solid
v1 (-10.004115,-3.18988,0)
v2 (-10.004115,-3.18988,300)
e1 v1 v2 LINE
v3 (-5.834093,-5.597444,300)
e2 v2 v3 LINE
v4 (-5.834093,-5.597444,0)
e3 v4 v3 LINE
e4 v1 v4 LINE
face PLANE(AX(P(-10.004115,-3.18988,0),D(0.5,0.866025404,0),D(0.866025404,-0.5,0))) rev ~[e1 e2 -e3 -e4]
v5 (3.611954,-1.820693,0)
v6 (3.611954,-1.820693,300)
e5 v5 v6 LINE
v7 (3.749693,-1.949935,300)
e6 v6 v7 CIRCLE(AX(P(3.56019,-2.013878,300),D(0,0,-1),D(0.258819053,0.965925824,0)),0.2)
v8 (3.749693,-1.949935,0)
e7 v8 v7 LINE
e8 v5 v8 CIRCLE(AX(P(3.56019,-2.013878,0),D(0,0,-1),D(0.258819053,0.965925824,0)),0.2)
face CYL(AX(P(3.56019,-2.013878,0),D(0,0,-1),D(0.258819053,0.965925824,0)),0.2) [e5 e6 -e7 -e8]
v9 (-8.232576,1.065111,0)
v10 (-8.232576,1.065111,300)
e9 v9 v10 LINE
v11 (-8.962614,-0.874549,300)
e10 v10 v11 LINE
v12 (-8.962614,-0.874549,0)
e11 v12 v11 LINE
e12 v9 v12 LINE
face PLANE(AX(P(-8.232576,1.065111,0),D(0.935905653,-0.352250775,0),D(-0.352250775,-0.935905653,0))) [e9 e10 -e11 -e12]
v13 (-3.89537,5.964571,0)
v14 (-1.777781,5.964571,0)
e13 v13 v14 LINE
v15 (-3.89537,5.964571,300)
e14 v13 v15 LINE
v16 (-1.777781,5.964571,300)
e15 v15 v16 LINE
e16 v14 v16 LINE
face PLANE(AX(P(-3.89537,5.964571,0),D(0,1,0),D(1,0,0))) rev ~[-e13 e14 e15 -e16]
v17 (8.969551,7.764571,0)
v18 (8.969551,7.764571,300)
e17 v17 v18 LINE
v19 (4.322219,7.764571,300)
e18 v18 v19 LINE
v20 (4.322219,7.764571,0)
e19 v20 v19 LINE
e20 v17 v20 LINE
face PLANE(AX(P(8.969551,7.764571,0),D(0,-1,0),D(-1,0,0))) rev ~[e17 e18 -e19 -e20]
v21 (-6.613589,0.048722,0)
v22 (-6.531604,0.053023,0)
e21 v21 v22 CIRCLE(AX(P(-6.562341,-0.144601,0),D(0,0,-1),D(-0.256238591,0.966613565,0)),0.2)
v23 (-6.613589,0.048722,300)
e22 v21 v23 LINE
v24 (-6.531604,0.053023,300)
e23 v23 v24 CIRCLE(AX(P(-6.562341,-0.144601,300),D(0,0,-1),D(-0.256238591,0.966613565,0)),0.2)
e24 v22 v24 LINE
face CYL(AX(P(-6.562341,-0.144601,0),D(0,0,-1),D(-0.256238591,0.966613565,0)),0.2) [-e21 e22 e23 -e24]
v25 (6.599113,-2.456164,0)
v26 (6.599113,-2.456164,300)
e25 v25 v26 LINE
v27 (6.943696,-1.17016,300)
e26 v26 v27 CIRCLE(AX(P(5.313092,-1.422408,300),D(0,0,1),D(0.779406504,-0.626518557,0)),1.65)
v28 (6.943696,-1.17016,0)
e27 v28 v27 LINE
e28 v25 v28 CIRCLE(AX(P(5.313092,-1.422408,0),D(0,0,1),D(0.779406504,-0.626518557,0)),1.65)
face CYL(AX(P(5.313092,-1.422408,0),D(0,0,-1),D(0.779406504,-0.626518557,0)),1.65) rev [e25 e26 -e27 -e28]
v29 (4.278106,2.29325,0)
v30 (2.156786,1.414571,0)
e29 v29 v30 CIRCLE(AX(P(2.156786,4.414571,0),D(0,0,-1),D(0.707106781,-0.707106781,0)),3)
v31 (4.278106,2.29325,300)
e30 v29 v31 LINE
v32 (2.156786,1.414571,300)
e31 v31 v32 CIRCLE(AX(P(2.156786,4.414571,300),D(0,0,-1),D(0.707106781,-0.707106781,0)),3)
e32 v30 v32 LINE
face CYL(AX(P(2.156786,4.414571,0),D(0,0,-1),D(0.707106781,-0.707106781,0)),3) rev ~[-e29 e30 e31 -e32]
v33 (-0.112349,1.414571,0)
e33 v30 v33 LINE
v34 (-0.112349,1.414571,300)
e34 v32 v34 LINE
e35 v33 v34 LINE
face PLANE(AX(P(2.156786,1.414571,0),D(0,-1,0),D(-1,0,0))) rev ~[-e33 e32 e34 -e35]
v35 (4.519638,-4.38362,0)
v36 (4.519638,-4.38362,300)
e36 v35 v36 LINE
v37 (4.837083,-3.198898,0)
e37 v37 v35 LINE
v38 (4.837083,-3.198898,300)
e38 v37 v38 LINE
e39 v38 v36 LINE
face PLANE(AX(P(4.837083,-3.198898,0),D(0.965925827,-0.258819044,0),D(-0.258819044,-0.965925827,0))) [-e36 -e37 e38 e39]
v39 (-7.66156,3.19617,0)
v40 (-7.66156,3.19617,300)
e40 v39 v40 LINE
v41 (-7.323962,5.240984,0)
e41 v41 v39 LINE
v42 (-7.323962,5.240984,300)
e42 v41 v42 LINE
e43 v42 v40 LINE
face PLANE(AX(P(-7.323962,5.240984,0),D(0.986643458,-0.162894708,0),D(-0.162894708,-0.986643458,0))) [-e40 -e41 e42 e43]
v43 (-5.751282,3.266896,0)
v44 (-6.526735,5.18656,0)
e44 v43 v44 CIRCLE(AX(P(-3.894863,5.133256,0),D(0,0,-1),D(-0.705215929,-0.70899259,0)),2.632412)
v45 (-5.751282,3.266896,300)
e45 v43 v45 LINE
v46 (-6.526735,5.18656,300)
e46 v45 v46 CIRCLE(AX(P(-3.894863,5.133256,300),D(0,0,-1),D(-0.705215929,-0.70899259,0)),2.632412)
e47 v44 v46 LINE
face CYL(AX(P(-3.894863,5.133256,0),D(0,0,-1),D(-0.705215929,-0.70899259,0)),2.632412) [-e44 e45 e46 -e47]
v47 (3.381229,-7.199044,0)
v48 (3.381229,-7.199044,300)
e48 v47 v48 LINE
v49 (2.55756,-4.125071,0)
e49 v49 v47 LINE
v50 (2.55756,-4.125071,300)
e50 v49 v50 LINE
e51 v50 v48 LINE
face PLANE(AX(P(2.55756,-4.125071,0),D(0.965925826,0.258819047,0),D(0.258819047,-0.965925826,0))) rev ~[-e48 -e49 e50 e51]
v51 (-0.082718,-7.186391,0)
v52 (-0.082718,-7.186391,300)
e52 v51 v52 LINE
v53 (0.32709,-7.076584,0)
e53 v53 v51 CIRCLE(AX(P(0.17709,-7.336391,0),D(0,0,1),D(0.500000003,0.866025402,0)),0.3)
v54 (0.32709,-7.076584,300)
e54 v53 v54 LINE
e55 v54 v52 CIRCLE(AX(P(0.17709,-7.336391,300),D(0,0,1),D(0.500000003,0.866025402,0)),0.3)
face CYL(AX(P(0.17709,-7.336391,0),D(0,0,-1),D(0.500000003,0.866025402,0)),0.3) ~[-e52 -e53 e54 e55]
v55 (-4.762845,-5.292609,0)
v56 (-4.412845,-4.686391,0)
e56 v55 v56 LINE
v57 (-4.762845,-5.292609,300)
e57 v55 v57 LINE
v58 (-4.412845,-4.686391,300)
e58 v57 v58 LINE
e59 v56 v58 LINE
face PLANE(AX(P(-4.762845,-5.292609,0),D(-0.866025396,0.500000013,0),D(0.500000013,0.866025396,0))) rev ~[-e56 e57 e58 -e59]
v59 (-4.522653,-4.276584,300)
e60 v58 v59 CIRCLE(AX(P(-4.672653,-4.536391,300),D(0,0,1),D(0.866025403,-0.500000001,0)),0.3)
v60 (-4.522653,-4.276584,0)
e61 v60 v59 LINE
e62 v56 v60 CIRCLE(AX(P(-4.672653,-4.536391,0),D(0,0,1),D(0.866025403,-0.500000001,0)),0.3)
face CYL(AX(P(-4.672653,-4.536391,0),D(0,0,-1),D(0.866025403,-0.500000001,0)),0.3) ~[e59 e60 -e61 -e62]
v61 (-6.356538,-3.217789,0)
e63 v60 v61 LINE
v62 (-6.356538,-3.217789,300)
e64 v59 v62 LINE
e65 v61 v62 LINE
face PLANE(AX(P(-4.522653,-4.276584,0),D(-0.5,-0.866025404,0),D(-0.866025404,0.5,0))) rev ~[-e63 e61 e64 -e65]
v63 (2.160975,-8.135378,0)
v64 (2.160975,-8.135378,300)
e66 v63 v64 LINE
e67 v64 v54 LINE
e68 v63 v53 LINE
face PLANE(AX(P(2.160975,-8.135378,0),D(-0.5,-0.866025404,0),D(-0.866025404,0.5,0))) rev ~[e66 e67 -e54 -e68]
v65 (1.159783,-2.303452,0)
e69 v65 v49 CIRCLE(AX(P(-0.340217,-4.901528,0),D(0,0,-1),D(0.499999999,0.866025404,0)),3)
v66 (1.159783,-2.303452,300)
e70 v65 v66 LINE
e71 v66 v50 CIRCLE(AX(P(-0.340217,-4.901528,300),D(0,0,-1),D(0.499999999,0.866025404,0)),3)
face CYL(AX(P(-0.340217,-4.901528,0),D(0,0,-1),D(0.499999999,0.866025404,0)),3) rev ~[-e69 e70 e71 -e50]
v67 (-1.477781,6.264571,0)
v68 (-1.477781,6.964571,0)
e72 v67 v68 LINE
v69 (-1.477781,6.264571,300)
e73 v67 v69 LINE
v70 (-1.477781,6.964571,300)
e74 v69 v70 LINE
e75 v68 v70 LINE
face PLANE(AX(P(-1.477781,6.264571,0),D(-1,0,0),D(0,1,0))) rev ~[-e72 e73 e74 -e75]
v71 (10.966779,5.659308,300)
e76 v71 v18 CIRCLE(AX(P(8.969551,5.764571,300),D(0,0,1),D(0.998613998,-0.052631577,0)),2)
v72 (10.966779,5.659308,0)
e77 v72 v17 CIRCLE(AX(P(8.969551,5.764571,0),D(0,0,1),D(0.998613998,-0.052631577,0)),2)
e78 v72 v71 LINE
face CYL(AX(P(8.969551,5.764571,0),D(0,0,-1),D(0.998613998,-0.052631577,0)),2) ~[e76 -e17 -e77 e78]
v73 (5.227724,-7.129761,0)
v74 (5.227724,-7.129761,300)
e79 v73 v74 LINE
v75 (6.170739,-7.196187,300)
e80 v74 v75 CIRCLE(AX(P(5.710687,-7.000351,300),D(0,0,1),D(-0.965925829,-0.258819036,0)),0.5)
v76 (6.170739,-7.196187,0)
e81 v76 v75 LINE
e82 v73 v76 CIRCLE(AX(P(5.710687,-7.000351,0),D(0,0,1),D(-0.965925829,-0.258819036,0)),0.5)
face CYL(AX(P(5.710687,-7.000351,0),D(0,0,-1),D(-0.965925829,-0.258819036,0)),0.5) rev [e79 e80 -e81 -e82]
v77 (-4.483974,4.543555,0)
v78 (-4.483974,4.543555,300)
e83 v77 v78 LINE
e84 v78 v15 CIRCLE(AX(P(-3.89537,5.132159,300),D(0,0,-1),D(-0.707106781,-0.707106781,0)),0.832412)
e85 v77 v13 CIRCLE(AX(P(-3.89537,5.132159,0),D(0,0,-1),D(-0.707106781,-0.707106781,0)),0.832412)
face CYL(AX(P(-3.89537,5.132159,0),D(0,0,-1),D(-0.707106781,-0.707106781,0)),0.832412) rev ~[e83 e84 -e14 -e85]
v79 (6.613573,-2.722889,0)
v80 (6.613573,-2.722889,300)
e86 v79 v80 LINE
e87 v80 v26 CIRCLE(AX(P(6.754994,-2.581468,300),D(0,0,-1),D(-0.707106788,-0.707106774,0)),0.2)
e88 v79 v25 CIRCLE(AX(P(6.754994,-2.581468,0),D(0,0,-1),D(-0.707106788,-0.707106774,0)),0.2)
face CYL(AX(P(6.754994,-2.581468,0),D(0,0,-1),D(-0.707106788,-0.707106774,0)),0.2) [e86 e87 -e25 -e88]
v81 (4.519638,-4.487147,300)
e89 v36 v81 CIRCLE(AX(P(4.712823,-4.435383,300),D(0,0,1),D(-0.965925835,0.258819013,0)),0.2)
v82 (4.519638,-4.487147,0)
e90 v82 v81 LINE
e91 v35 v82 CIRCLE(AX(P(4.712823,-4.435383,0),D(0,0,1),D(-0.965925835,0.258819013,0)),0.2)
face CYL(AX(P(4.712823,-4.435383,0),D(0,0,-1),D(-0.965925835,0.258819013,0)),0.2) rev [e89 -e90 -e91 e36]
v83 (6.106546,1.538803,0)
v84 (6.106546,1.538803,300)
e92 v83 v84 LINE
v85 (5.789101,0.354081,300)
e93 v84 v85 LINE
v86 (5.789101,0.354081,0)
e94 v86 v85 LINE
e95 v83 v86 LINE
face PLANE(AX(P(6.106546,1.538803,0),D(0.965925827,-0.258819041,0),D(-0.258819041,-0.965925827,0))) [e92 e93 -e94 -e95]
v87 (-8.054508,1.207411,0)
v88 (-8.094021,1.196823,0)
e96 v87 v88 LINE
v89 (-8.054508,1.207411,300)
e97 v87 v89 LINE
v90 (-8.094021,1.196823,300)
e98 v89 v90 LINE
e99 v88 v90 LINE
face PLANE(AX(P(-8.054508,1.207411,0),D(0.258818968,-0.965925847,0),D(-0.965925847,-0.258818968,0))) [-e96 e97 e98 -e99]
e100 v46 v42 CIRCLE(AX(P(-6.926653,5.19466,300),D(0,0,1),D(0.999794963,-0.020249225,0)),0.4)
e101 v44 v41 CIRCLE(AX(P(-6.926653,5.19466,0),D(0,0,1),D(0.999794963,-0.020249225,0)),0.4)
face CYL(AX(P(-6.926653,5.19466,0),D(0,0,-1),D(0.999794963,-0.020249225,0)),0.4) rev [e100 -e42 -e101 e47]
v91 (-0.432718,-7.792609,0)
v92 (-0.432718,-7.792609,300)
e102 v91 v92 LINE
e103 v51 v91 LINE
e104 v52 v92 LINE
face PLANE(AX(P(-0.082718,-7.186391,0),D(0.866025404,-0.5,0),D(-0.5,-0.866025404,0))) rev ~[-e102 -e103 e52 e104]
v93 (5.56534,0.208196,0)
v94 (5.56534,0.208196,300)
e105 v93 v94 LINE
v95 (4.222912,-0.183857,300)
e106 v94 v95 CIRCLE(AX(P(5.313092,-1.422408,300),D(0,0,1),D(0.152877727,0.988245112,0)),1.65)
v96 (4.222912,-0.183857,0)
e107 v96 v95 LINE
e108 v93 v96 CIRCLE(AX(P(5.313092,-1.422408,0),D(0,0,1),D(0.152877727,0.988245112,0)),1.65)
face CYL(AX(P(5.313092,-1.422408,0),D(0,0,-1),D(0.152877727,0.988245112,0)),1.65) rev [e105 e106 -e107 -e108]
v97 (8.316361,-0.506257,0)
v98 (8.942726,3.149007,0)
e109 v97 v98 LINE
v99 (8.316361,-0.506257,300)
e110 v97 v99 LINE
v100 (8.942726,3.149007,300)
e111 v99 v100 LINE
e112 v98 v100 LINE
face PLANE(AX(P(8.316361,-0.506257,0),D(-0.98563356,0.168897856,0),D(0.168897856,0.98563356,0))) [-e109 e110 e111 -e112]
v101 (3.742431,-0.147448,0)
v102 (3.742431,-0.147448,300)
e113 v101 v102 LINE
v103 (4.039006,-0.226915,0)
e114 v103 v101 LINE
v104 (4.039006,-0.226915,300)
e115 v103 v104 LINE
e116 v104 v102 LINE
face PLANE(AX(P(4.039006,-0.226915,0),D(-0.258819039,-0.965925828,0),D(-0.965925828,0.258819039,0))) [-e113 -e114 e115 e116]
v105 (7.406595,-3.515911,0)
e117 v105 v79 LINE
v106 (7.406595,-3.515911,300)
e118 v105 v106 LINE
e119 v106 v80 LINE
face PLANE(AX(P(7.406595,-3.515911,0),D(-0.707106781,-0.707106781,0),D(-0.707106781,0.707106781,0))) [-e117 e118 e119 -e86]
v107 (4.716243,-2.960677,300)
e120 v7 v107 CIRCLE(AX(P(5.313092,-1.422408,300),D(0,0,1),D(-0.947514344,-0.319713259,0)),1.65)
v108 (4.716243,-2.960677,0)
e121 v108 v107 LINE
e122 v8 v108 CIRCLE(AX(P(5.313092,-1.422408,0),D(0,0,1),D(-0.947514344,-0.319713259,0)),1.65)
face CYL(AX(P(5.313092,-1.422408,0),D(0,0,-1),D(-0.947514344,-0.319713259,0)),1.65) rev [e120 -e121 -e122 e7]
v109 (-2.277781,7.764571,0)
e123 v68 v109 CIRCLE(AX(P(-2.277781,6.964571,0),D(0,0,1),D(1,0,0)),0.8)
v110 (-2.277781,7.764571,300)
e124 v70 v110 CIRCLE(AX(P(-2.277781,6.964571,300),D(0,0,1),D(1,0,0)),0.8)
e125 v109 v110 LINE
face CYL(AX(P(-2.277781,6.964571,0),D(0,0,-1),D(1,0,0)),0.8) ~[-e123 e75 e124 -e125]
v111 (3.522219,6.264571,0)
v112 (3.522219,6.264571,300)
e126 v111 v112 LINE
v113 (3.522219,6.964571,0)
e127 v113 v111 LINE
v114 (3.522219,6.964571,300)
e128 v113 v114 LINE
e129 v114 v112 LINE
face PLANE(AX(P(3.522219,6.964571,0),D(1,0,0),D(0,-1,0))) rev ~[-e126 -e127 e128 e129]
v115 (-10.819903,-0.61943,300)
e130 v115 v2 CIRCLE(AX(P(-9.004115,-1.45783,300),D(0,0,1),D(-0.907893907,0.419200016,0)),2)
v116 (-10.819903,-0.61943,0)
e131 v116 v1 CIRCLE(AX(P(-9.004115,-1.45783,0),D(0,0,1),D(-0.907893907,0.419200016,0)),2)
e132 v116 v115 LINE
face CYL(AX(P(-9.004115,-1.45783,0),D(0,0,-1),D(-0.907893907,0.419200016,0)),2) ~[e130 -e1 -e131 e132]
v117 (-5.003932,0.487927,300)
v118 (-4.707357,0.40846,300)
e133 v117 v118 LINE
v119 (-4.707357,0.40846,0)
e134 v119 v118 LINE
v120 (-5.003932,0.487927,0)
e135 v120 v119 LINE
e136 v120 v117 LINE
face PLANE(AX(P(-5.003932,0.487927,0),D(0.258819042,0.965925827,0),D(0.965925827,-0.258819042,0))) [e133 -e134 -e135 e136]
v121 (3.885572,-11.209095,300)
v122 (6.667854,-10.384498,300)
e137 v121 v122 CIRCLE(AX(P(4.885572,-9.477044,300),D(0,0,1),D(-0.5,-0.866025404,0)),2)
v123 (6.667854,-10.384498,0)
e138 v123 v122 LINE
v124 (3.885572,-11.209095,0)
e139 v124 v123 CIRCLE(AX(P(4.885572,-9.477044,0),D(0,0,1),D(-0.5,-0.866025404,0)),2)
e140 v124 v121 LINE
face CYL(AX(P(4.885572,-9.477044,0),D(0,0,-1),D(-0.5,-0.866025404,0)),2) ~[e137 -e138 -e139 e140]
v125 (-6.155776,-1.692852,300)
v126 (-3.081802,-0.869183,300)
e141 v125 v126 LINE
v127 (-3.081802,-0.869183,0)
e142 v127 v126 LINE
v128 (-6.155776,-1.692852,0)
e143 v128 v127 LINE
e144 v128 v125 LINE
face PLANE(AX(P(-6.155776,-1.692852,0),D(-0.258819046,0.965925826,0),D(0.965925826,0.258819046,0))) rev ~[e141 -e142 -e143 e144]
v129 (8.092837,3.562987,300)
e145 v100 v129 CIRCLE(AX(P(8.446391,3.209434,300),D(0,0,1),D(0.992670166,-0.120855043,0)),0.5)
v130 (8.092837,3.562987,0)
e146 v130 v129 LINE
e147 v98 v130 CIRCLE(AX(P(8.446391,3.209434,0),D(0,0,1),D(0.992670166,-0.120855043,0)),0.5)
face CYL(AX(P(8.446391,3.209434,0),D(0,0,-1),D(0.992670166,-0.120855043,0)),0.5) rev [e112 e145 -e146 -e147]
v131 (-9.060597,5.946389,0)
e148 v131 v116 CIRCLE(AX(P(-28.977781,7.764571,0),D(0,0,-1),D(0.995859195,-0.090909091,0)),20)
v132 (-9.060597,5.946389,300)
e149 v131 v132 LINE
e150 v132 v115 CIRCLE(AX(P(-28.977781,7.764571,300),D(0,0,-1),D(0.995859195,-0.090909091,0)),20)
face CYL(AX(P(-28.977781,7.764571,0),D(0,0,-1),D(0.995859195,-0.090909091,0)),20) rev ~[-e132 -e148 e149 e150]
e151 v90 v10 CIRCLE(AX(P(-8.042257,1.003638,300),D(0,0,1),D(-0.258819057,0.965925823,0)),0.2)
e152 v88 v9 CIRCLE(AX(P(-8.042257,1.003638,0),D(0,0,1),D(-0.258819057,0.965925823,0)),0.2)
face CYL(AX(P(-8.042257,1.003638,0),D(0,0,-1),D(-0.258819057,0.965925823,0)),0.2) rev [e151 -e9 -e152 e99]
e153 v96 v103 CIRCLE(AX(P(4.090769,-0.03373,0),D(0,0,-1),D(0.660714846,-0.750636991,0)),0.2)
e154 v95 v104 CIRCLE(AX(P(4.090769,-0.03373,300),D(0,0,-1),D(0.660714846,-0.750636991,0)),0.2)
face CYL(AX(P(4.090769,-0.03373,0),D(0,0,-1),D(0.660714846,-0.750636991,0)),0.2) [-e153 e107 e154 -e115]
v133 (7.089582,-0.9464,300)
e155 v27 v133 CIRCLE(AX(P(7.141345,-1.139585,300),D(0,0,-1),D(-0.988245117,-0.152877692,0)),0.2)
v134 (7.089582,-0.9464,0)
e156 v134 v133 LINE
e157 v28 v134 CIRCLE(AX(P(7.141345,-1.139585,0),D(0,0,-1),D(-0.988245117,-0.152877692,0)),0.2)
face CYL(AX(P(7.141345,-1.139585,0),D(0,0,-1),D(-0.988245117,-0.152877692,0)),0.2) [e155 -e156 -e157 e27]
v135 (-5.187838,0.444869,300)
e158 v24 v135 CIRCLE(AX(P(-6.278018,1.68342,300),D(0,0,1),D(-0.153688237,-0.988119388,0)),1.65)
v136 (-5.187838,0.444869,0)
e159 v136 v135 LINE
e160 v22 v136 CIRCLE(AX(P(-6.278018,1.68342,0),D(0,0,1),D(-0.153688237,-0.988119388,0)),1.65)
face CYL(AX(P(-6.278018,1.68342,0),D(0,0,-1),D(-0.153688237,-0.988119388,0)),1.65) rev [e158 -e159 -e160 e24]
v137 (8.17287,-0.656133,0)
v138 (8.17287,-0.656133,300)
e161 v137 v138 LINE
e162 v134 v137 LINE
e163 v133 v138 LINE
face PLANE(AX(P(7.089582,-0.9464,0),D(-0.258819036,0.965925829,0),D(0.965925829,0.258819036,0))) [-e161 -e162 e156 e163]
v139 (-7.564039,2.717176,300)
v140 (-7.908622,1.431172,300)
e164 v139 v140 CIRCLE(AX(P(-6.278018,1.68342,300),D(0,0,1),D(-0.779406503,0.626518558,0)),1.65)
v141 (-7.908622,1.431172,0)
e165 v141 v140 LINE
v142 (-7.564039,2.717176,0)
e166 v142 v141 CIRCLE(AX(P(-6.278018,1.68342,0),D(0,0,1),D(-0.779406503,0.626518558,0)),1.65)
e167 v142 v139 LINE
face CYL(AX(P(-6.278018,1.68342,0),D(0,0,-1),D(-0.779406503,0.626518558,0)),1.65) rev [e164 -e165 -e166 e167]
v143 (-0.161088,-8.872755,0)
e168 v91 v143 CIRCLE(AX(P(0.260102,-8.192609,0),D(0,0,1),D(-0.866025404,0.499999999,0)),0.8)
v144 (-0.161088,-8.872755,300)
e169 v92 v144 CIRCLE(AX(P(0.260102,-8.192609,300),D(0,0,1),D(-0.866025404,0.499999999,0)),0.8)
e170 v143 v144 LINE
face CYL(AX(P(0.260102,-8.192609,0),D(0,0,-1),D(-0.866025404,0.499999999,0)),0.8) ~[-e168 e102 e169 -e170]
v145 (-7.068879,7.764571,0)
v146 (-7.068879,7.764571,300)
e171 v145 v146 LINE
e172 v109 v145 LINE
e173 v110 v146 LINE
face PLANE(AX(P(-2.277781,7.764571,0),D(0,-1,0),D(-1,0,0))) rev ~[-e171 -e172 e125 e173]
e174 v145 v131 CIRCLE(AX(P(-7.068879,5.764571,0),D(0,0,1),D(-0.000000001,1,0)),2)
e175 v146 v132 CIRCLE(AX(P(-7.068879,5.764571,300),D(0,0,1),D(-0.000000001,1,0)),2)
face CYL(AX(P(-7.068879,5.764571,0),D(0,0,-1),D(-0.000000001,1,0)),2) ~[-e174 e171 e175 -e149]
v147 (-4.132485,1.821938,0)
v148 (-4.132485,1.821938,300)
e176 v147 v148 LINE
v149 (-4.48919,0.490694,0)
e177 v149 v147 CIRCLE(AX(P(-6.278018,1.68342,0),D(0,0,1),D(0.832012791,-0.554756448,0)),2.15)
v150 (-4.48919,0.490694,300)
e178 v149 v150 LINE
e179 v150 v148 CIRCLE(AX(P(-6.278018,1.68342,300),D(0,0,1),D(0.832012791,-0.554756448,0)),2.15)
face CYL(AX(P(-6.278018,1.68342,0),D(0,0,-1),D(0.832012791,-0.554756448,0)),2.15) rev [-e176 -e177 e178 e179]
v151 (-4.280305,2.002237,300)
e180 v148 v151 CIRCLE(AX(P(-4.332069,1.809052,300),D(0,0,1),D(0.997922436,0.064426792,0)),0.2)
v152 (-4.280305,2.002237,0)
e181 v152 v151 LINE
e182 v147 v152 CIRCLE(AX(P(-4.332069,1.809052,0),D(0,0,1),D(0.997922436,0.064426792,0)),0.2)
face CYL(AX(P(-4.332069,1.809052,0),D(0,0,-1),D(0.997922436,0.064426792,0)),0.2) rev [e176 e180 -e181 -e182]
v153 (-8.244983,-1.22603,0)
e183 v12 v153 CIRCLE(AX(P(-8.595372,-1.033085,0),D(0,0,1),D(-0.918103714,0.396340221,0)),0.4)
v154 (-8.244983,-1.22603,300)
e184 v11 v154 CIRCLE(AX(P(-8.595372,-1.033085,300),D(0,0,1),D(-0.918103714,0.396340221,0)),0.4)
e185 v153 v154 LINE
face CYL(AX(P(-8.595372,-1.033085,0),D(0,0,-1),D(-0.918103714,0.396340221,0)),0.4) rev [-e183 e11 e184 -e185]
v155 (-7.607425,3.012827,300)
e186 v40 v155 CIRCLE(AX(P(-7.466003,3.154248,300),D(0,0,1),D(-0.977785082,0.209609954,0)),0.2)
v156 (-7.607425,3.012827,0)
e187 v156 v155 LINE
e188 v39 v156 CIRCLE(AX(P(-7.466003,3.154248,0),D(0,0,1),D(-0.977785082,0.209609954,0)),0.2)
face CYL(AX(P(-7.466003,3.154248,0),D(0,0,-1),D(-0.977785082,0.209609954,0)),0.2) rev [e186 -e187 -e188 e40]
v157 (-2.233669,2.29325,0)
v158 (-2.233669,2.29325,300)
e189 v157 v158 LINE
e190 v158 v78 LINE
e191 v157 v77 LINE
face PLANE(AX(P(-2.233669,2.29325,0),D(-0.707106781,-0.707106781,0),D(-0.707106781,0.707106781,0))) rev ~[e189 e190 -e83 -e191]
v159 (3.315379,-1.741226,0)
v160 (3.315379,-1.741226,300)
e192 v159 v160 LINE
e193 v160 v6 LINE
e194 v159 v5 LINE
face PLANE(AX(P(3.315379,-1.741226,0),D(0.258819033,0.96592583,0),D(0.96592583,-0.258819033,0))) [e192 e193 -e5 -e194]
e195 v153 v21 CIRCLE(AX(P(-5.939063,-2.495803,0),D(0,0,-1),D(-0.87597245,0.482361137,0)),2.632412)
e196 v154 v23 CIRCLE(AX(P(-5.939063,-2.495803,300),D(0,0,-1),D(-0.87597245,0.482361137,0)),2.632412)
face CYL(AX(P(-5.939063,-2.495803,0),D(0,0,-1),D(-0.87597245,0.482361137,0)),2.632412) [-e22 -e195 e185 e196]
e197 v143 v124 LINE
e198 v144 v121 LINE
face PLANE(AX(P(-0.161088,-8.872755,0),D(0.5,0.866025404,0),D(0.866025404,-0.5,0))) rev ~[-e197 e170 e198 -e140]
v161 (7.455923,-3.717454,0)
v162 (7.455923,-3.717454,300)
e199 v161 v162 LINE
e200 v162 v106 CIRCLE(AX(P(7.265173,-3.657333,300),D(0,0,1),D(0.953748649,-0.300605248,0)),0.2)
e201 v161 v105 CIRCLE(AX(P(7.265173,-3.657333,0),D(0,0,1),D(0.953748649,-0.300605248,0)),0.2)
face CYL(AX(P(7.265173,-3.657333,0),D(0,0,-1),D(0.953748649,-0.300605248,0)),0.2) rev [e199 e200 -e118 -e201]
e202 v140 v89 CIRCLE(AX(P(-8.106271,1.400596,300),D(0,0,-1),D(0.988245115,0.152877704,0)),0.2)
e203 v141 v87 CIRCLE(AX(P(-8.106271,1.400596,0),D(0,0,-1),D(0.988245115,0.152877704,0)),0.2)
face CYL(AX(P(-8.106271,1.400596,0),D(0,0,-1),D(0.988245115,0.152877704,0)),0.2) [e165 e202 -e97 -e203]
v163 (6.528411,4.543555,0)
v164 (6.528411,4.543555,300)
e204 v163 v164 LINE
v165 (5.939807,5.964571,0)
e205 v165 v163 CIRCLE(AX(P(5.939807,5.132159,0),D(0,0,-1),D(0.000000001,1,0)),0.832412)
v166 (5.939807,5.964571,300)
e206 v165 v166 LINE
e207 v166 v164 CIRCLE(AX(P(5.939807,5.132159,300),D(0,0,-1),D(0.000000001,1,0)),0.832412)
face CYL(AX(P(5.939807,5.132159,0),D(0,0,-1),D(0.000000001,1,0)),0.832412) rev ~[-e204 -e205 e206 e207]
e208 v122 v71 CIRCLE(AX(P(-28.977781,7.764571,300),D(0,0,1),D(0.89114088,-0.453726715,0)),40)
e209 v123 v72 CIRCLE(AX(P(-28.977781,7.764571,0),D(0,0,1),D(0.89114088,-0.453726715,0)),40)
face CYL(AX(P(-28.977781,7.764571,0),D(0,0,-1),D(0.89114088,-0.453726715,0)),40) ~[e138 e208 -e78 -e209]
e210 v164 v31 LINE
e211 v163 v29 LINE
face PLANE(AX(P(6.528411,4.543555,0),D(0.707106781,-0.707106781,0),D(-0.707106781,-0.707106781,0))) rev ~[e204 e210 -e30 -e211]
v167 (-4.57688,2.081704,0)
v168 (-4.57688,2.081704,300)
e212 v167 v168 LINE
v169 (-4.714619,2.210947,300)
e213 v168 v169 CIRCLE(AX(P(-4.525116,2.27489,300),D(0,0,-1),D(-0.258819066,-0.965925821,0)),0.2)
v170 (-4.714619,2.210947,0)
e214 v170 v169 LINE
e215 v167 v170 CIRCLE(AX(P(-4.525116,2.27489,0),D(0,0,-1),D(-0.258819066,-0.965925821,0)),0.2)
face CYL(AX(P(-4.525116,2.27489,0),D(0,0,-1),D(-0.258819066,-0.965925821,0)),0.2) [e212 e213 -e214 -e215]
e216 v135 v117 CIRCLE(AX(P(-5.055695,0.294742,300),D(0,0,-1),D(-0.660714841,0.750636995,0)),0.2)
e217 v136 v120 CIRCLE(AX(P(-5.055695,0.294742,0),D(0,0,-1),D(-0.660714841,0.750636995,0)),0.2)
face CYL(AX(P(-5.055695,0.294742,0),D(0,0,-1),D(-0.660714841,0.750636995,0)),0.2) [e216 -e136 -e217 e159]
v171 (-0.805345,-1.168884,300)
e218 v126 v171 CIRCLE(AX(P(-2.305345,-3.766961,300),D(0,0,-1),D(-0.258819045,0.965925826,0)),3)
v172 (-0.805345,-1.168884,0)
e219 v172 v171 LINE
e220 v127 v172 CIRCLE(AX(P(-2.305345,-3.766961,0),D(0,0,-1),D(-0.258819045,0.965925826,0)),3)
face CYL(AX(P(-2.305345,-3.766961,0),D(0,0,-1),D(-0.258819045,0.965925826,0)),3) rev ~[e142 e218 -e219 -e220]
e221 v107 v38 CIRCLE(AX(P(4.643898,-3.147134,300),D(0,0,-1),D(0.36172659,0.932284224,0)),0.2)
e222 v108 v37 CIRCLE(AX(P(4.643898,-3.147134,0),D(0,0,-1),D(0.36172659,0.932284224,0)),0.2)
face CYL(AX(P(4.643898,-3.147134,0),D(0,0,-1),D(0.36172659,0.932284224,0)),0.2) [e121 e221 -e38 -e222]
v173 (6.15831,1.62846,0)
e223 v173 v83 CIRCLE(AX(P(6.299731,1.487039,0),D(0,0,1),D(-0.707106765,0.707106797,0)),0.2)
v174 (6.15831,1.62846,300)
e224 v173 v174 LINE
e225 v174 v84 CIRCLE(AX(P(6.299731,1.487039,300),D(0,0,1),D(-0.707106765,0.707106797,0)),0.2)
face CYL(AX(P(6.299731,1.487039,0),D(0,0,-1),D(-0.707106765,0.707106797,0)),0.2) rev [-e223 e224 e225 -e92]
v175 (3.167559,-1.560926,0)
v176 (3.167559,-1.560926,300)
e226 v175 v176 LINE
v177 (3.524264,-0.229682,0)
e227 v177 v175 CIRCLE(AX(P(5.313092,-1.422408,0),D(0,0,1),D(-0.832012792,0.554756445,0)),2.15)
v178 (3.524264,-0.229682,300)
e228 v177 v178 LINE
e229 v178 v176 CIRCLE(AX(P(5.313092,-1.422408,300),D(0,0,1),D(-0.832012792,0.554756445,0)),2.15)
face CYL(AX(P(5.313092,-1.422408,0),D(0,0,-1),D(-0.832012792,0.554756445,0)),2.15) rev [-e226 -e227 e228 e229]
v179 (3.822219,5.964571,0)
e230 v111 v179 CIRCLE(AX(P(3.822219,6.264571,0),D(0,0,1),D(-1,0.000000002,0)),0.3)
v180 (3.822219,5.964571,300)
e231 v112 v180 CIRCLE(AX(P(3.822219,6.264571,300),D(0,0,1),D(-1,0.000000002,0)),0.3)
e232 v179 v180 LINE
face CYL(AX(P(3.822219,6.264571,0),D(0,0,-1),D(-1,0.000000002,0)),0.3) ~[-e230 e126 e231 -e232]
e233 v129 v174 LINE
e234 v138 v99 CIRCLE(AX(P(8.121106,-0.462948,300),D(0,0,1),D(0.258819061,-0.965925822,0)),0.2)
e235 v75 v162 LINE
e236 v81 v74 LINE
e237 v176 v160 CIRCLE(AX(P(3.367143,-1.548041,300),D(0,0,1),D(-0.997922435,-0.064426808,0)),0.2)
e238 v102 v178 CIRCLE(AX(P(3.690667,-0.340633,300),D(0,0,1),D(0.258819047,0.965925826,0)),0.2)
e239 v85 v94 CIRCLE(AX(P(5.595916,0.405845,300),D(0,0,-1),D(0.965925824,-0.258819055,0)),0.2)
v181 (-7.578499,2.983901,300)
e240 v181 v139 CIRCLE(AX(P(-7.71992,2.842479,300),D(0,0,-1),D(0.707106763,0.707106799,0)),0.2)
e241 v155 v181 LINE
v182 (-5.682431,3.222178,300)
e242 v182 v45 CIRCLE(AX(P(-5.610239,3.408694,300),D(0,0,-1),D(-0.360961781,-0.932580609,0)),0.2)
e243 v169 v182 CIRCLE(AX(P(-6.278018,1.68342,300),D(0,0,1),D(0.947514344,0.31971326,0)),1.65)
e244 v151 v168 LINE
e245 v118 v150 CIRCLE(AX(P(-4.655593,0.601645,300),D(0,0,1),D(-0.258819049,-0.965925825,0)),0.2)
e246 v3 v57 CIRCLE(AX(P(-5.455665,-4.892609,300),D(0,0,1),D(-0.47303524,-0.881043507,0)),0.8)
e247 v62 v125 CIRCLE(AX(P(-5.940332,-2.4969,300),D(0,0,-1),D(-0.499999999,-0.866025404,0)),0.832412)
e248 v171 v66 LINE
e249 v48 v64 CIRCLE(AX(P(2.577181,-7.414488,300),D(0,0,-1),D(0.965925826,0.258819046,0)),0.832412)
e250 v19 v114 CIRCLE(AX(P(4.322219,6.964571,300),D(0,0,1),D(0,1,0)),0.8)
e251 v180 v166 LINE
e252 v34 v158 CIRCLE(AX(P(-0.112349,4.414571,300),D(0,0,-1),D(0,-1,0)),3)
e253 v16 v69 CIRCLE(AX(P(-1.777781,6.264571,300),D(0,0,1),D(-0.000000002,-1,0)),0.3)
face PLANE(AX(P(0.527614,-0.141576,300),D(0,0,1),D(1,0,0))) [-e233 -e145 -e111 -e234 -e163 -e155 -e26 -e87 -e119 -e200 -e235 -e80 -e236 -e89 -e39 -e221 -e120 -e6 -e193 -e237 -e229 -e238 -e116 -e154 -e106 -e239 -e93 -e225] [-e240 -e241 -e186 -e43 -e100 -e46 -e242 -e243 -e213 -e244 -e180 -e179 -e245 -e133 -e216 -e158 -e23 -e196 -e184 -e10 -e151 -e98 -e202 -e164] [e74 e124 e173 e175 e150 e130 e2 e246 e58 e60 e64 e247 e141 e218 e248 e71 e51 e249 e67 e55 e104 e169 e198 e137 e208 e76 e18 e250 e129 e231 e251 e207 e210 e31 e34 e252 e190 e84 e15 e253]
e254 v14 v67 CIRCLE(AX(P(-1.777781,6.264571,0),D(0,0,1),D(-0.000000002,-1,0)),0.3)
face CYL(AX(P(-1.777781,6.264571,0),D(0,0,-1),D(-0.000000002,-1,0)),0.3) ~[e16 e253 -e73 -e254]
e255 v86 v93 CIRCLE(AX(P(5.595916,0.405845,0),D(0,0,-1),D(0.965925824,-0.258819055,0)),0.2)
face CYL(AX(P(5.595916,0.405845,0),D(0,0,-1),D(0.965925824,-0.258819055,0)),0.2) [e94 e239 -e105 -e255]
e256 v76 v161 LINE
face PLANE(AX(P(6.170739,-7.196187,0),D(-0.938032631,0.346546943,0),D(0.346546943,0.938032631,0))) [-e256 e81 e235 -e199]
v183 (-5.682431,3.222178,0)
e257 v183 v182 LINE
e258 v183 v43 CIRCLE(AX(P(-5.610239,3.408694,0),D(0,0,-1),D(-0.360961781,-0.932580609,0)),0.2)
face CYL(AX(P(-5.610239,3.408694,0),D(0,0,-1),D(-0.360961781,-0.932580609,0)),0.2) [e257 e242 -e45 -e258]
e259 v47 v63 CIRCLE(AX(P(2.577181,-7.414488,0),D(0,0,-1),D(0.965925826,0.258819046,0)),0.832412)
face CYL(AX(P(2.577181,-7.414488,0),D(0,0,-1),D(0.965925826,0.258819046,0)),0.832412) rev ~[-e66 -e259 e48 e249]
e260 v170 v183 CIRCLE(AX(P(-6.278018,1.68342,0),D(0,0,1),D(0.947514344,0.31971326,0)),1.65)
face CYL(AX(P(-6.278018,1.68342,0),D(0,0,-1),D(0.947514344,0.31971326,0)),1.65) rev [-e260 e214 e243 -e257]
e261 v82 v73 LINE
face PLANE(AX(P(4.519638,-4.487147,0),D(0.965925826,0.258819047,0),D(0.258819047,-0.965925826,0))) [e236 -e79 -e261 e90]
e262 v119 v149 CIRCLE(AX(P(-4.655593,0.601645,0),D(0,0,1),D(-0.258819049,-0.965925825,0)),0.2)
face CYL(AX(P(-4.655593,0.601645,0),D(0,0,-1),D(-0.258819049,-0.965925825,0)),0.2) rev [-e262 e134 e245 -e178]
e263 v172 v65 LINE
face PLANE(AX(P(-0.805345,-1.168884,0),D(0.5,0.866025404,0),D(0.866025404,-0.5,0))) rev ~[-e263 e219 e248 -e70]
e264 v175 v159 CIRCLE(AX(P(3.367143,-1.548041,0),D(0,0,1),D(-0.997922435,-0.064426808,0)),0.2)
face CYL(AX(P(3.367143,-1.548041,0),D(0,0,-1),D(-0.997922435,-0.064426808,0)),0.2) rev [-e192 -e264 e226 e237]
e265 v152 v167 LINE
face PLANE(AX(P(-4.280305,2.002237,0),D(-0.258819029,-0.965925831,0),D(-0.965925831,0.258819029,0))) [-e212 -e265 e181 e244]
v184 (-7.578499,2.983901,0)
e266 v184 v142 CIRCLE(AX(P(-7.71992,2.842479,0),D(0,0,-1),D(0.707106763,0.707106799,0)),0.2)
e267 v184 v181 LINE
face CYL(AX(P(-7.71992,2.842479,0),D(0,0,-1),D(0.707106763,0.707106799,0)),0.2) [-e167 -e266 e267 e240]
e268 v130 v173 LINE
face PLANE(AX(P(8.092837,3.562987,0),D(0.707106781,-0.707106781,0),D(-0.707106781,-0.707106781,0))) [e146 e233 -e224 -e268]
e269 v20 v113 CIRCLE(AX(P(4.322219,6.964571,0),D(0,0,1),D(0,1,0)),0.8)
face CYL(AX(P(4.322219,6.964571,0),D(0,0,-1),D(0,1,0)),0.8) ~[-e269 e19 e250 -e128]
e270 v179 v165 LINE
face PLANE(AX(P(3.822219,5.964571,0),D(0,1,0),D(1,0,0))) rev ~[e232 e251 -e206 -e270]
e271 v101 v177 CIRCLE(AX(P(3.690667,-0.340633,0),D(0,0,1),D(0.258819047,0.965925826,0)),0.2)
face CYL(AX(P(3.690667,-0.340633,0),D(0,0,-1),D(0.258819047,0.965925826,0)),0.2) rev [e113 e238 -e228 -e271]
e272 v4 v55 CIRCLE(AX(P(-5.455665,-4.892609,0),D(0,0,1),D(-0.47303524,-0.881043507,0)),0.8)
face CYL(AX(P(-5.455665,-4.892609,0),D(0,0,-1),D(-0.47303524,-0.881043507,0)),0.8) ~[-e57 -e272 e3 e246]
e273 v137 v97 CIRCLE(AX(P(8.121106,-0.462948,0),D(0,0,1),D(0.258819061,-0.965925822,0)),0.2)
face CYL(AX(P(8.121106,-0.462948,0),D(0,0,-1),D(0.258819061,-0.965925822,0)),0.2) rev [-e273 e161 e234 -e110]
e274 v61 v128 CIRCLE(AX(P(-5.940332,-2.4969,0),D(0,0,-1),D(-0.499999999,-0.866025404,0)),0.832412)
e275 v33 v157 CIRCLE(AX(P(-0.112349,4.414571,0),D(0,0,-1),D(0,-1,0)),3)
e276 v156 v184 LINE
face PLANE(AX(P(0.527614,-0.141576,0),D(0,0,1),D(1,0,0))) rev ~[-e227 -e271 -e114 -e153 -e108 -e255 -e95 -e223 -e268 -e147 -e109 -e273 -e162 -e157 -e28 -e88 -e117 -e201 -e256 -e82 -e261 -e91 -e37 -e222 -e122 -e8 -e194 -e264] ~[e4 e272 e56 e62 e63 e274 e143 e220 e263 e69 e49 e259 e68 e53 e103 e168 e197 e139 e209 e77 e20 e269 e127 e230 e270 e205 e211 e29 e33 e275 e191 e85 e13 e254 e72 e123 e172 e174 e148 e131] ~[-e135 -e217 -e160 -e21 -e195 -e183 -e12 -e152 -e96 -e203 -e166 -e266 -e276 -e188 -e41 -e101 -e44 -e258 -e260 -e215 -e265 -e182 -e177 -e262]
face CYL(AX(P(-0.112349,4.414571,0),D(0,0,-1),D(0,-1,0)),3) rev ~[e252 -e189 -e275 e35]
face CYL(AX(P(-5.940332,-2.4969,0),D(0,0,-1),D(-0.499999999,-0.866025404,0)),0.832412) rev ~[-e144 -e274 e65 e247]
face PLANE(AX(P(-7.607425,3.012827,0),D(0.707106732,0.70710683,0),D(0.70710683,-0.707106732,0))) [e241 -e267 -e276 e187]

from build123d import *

# Parameters (mm, degrees)
BOSS_EXTRU_1_DEPTH = 300


with BuildPart() as part:
    # Esquisse1 → Boss.-Extru.1 (new body)
    with BuildSketch(Plane.XY):
        with BuildLine():
            Line((-2.277781394, 7.764570671), (-7.068879094, 7.764570671))
            ThreePointArc((-7.068879094, 7.764570671), (-8.417278819, 7.241668562), (-9.060597485, 5.946388851))
            ThreePointArc((-9.060597485, 5.946388851), (-9.659264868, 2.58818977), (-10.819903246, -0.619429637))
            ThreePointArc((-10.819903246, -0.619429637), (-10.910412794, -2.062834106), (-10.00411543, -3.18988048))
            Line((-10.00411543, -3.18988048), (-5.834093414, -5.597443814))
            ThreePointArc((-5.834093414, -5.597443814), (-5.236709364, -5.662062276), (-4.7628449, -5.292609007))
            Line((-4.7628449, -5.292609007), (-4.412844891, -4.68639123))
            ThreePointArc((-4.412844891, -4.68639123), (-4.382874764, -4.458745516), (-4.522652512, -4.276583608))
            Line((-4.522652512, -4.276583608), (-6.356537861, -3.217789408))
            ThreePointArc((-6.356537861, -3.217789408), (-6.765622267, -2.388248296), (-6.155776036, -1.692851946))
            Line((-6.155776036, -1.692851946), (-3.081802459, -0.869183204))
            ThreePointArc((-3.081802459, -0.869183204), (-1.913766747, -0.792626099), (-0.805345324, -1.168884471))
            Line((-0.805345324, -1.168884471), (1.159782546, -2.303451576))
            ThreePointArc((1.159782546, -2.303451576), (2.039842566, -3.075243499), (2.557560023, -4.125070649))
            Line((2.557560023, -4.125070649), (3.381228766, -7.199044225))
            ThreePointArc((3.381228766, -7.199044225), (3.083920975, -8.074884735), (2.160975089, -8.135377804))
            Line((2.160975089, -8.135377804), (0.32708974, -7.076583604))
            ThreePointArc((0.32708974, -7.076583604), (0.099444026, -7.046613477), (-0.082717881, -7.186391225))
            Line((-0.082717881, -7.186391225), (-0.432717881, -7.792609008))
            ThreePointArc((-0.432717881, -7.792609008), (-0.515741566, -8.3877143), (-0.161088322, -8.872754831))
            Line((-0.161088322, -8.872754831), (3.885572059, -11.209095291))
            ThreePointArc((3.885572059, -11.209095291), (5.453886583, -11.394599855), (6.667853821, -10.384497912))
            ThreePointArc((6.667853821, -10.384497912), (9.659251661, -2.588191136), (10.966778527, 5.659307508))
            ThreePointArc((10.966778527, 5.659307508), (10.420503025, 7.141065072), (8.969550516, 7.764570662))
            Line((8.969550516, 7.764570662), (4.322218596, 7.764570662))
            ThreePointArc((4.322218596, 7.764570662), (3.756533171, 7.530256087), (3.522218596, 6.964570662))
            Line((3.522218596, 6.964570662), (3.522218596, 6.264570662))
            ThreePointArc((3.522218596, 6.264570662), (3.610086561, 6.052438628), (3.822218596, 5.964570662))
            Line((3.822218596, 5.964570662), (5.939806996, 5.964570662))
            ThreePointArc((5.939806996, 5.964570662), (6.708855039, 5.450709188), (6.528410886, 4.543555168))
            Line((6.528410886, 4.543555168), (4.278106046, 2.293250328))
            ThreePointArc((4.278106046, 2.293250328), (3.304835999, 1.642932074), (2.156785702, 1.414570672))
            Line((2.156785702, 1.414570672), (-0.112348508, 1.414570672))
            ThreePointArc((-0.112348508, 1.414570672), (-1.260398803, 1.642932074), (-2.233668848, 2.293250327))
            Line((-2.233668848, 2.293250327), (-4.483973688, 4.543555167))
            ThreePointArc((-4.483973688, 4.543555167), (-4.664417843, 5.450709193), (-3.895369794, 5.964570671))
            Line((-3.895369794, 5.964570671), (-1.777781394, 5.964570671))
            ThreePointArc((-1.777781394, 5.964570671), (-1.565649359, 6.052438637), (-1.477781394, 6.264570671))
            Line((-1.477781394, 6.264570671), (-1.477781394, 6.964570671))
            ThreePointArc((-1.477781394, 6.964570671), (-1.712095969, 7.530256096), (-2.277781394, 7.764570671))
        make_face()
        with BuildLine():
            Line((-7.323961592, 5.240984459), (-7.661560194, 3.19617001))
            ThreePointArc((-7.661560194, 3.19617001), (-7.657816372, 3.097611471), (-7.607424532, 3.012826659))
            Line((-7.607424532, 3.012826659), (-7.57849861, 2.983900741))
            ThreePointArc((-7.57849861, 2.983900741), (-7.520213219, 2.853306067), (-7.56403866, 2.717175664))
            ThreePointArc((-7.56403866, 2.717175664), (-7.87179554, 2.110471478), (-7.908622362, 1.431171801))
            ThreePointArc((-7.908622362, 1.431171801), (-7.938733618, 1.291366699), (-8.05450758, 1.20741109))
            Line((-8.05450758, 1.20741109), (-8.094021121, 1.196823472))
            ThreePointArc((-8.094021121, 1.196823472), (-8.180054139, 1.148593589), (-8.23257565, 1.0651113))
            Line((-8.23257565, 1.0651113), (-8.962613913, -0.874549263))
            ThreePointArc((-8.962613913, -0.874549263), (-8.771314591, -1.392312789), (-8.244983453, -1.226029799))
            ThreePointArc((-8.244983453, -1.226029799), (-7.559869341, -0.421536961), (-6.6135889, 0.048721903))
            ThreePointArc((-6.6135889, 0.048721903), (-6.572819287, 0.055124525), (-6.531603527, 0.053023068))
            ThreePointArc((-6.531603527, 0.053023068), (-5.816110839, 0.099392966), (-5.18783842, 0.444869046))
            ThreePointArc((-5.18783842, 0.444869046), (-5.101288158, 0.489475582), (-5.003931638, 0.487926814))
            Line((-5.003931638, 0.487926814), (-4.707356797, 0.408459826))
            ThreePointArc((-4.707356797, 0.408459826), (-4.585051414, 0.414498293), (-4.489190426, 0.490693704))
            ThreePointArc((-4.489190426, 0.490693704), (-4.201277401, 1.126959114), (-4.132484687, 1.821937635))
            ThreePointArc((-4.132484687, 1.821937635), (-4.177405034, 1.935855289), (-4.280305369, 2.002237445))
            Line((-4.280305369, 2.002237445), (-4.576880211, 2.081704429))
            ThreePointArc((-4.576880211, 2.081704429), (-4.661967815, 2.129041419), (-4.714619271, 2.210946946))
            ThreePointArc((-4.714619271, 2.210946946), (-5.085981109, 2.82427422), (-5.682431007, 3.222178075))
            ThreePointArc((-5.682431007, 3.222178075), (-5.719175628, 3.240966039), (-5.751281836, 3.266895679))
            ThreePointArc((-5.751281836, 3.266895679), (-6.335655302, 4.147292021), (-6.526735107, 5.186560309))
            ThreePointArc((-6.526735107, 5.186560309), (-6.899409756, 5.593731171), (-7.323961592, 5.240984459))
        make_face(mode=Mode.SUBTRACT)
        with BuildLine():
            Line((4.039005672, -0.226915238), (3.742430831, -0.147448251))
            ThreePointArc((3.742430831, -0.147448251), (3.620125447, -0.153486718), (3.524264457, -0.22968213))
            ThreePointArc((3.524264457, -0.22968213), (3.236351435, -0.865947537), (3.167558721, -1.560926054))
            ThreePointArc((3.167558721, -1.560926054), (3.212479068, -1.674843705), (3.3153794, -1.74122586))
            Line((3.3153794, -1.74122586), (3.611954241, -1.820692845))
            ThreePointArc((3.611954241, -1.820692845), (3.697041845, -1.868029834), (3.749693301, -1.949935361))
            ThreePointArc((3.749693301, -1.949935361), (4.120587374, -2.562773684), (4.716243148, -2.960677472))
            ThreePointArc((4.716243148, -2.960677472), (4.822262289, -3.056657136), (4.837082998, -3.198898132))
            Line((4.837082998, -3.198898132), (4.519637838, -4.383619602))
            ThreePointArc((4.519637838, -4.383619602), (4.512823004, -4.435383412), (4.519637838, -4.487147222))
            Line((4.519637838, -4.487147222), (5.227723978, -7.129760649))
            ThreePointArc((5.227723978, -7.129760649), (5.675553803, -7.499115267), (6.170739428, -7.196186922))
            Line((6.170739428, -7.196186922), (7.455923223, -3.717453783))
            ThreePointArc((7.455923223, -3.717453783), (7.459439401, -3.609785311), (7.406594848, -3.515911372))
            Line((7.406594848, -3.515911372), (6.613572648, -2.722889172))
            ThreePointArc((6.613572648, -2.722889172), (6.555287263, -2.592294501), (6.599112704, -2.456164105))
            ThreePointArc((6.599112704, -2.456164105), (6.906869584, -1.849459918), (6.943696406, -1.170160238))
            ThreePointArc((6.943696406, -1.170160238), (6.973807663, -1.030355137), (7.089581623, -0.946399529))
            Line((7.089581623, -0.946399529), (8.172870105, -0.656133266))
            ThreePointArc((8.172870105, -0.656133266), (8.2655718, -0.601258323), (8.316360933, -0.506256599))
            Line((8.316360933, -0.506256599), (8.942725678, 3.149006571))
            ThreePointArc((8.942725678, 3.149006571), (8.665346523, 3.658943048), (8.092837193, 3.56298747))
            Line((8.092837193, 3.56298747), (6.158309903, 1.62846018))
            ThreePointArc((6.158309903, 1.62846018), (6.126526177, 1.587038823), (6.106546092, 1.53880263))
            Line((6.106546092, 1.53880263), (5.789100936, 0.35408116))
            ThreePointArc((5.789100936, 0.35408116), (5.705145325, 0.238307201), (5.565340223, 0.208195951))
            ThreePointArc((5.565340223, 0.208195951), (4.850535301, 0.161429048), (4.222912453, -0.18385747))
            ThreePointArc((4.222912453, -0.18385747), (4.136362192, -0.228464006), (4.039005672, -0.226915238))
        make_face(mode=Mode.SUBTRACT)
    extrude(amount=BOSS_EXTRU_1_DEPTH)


solid = part.part
